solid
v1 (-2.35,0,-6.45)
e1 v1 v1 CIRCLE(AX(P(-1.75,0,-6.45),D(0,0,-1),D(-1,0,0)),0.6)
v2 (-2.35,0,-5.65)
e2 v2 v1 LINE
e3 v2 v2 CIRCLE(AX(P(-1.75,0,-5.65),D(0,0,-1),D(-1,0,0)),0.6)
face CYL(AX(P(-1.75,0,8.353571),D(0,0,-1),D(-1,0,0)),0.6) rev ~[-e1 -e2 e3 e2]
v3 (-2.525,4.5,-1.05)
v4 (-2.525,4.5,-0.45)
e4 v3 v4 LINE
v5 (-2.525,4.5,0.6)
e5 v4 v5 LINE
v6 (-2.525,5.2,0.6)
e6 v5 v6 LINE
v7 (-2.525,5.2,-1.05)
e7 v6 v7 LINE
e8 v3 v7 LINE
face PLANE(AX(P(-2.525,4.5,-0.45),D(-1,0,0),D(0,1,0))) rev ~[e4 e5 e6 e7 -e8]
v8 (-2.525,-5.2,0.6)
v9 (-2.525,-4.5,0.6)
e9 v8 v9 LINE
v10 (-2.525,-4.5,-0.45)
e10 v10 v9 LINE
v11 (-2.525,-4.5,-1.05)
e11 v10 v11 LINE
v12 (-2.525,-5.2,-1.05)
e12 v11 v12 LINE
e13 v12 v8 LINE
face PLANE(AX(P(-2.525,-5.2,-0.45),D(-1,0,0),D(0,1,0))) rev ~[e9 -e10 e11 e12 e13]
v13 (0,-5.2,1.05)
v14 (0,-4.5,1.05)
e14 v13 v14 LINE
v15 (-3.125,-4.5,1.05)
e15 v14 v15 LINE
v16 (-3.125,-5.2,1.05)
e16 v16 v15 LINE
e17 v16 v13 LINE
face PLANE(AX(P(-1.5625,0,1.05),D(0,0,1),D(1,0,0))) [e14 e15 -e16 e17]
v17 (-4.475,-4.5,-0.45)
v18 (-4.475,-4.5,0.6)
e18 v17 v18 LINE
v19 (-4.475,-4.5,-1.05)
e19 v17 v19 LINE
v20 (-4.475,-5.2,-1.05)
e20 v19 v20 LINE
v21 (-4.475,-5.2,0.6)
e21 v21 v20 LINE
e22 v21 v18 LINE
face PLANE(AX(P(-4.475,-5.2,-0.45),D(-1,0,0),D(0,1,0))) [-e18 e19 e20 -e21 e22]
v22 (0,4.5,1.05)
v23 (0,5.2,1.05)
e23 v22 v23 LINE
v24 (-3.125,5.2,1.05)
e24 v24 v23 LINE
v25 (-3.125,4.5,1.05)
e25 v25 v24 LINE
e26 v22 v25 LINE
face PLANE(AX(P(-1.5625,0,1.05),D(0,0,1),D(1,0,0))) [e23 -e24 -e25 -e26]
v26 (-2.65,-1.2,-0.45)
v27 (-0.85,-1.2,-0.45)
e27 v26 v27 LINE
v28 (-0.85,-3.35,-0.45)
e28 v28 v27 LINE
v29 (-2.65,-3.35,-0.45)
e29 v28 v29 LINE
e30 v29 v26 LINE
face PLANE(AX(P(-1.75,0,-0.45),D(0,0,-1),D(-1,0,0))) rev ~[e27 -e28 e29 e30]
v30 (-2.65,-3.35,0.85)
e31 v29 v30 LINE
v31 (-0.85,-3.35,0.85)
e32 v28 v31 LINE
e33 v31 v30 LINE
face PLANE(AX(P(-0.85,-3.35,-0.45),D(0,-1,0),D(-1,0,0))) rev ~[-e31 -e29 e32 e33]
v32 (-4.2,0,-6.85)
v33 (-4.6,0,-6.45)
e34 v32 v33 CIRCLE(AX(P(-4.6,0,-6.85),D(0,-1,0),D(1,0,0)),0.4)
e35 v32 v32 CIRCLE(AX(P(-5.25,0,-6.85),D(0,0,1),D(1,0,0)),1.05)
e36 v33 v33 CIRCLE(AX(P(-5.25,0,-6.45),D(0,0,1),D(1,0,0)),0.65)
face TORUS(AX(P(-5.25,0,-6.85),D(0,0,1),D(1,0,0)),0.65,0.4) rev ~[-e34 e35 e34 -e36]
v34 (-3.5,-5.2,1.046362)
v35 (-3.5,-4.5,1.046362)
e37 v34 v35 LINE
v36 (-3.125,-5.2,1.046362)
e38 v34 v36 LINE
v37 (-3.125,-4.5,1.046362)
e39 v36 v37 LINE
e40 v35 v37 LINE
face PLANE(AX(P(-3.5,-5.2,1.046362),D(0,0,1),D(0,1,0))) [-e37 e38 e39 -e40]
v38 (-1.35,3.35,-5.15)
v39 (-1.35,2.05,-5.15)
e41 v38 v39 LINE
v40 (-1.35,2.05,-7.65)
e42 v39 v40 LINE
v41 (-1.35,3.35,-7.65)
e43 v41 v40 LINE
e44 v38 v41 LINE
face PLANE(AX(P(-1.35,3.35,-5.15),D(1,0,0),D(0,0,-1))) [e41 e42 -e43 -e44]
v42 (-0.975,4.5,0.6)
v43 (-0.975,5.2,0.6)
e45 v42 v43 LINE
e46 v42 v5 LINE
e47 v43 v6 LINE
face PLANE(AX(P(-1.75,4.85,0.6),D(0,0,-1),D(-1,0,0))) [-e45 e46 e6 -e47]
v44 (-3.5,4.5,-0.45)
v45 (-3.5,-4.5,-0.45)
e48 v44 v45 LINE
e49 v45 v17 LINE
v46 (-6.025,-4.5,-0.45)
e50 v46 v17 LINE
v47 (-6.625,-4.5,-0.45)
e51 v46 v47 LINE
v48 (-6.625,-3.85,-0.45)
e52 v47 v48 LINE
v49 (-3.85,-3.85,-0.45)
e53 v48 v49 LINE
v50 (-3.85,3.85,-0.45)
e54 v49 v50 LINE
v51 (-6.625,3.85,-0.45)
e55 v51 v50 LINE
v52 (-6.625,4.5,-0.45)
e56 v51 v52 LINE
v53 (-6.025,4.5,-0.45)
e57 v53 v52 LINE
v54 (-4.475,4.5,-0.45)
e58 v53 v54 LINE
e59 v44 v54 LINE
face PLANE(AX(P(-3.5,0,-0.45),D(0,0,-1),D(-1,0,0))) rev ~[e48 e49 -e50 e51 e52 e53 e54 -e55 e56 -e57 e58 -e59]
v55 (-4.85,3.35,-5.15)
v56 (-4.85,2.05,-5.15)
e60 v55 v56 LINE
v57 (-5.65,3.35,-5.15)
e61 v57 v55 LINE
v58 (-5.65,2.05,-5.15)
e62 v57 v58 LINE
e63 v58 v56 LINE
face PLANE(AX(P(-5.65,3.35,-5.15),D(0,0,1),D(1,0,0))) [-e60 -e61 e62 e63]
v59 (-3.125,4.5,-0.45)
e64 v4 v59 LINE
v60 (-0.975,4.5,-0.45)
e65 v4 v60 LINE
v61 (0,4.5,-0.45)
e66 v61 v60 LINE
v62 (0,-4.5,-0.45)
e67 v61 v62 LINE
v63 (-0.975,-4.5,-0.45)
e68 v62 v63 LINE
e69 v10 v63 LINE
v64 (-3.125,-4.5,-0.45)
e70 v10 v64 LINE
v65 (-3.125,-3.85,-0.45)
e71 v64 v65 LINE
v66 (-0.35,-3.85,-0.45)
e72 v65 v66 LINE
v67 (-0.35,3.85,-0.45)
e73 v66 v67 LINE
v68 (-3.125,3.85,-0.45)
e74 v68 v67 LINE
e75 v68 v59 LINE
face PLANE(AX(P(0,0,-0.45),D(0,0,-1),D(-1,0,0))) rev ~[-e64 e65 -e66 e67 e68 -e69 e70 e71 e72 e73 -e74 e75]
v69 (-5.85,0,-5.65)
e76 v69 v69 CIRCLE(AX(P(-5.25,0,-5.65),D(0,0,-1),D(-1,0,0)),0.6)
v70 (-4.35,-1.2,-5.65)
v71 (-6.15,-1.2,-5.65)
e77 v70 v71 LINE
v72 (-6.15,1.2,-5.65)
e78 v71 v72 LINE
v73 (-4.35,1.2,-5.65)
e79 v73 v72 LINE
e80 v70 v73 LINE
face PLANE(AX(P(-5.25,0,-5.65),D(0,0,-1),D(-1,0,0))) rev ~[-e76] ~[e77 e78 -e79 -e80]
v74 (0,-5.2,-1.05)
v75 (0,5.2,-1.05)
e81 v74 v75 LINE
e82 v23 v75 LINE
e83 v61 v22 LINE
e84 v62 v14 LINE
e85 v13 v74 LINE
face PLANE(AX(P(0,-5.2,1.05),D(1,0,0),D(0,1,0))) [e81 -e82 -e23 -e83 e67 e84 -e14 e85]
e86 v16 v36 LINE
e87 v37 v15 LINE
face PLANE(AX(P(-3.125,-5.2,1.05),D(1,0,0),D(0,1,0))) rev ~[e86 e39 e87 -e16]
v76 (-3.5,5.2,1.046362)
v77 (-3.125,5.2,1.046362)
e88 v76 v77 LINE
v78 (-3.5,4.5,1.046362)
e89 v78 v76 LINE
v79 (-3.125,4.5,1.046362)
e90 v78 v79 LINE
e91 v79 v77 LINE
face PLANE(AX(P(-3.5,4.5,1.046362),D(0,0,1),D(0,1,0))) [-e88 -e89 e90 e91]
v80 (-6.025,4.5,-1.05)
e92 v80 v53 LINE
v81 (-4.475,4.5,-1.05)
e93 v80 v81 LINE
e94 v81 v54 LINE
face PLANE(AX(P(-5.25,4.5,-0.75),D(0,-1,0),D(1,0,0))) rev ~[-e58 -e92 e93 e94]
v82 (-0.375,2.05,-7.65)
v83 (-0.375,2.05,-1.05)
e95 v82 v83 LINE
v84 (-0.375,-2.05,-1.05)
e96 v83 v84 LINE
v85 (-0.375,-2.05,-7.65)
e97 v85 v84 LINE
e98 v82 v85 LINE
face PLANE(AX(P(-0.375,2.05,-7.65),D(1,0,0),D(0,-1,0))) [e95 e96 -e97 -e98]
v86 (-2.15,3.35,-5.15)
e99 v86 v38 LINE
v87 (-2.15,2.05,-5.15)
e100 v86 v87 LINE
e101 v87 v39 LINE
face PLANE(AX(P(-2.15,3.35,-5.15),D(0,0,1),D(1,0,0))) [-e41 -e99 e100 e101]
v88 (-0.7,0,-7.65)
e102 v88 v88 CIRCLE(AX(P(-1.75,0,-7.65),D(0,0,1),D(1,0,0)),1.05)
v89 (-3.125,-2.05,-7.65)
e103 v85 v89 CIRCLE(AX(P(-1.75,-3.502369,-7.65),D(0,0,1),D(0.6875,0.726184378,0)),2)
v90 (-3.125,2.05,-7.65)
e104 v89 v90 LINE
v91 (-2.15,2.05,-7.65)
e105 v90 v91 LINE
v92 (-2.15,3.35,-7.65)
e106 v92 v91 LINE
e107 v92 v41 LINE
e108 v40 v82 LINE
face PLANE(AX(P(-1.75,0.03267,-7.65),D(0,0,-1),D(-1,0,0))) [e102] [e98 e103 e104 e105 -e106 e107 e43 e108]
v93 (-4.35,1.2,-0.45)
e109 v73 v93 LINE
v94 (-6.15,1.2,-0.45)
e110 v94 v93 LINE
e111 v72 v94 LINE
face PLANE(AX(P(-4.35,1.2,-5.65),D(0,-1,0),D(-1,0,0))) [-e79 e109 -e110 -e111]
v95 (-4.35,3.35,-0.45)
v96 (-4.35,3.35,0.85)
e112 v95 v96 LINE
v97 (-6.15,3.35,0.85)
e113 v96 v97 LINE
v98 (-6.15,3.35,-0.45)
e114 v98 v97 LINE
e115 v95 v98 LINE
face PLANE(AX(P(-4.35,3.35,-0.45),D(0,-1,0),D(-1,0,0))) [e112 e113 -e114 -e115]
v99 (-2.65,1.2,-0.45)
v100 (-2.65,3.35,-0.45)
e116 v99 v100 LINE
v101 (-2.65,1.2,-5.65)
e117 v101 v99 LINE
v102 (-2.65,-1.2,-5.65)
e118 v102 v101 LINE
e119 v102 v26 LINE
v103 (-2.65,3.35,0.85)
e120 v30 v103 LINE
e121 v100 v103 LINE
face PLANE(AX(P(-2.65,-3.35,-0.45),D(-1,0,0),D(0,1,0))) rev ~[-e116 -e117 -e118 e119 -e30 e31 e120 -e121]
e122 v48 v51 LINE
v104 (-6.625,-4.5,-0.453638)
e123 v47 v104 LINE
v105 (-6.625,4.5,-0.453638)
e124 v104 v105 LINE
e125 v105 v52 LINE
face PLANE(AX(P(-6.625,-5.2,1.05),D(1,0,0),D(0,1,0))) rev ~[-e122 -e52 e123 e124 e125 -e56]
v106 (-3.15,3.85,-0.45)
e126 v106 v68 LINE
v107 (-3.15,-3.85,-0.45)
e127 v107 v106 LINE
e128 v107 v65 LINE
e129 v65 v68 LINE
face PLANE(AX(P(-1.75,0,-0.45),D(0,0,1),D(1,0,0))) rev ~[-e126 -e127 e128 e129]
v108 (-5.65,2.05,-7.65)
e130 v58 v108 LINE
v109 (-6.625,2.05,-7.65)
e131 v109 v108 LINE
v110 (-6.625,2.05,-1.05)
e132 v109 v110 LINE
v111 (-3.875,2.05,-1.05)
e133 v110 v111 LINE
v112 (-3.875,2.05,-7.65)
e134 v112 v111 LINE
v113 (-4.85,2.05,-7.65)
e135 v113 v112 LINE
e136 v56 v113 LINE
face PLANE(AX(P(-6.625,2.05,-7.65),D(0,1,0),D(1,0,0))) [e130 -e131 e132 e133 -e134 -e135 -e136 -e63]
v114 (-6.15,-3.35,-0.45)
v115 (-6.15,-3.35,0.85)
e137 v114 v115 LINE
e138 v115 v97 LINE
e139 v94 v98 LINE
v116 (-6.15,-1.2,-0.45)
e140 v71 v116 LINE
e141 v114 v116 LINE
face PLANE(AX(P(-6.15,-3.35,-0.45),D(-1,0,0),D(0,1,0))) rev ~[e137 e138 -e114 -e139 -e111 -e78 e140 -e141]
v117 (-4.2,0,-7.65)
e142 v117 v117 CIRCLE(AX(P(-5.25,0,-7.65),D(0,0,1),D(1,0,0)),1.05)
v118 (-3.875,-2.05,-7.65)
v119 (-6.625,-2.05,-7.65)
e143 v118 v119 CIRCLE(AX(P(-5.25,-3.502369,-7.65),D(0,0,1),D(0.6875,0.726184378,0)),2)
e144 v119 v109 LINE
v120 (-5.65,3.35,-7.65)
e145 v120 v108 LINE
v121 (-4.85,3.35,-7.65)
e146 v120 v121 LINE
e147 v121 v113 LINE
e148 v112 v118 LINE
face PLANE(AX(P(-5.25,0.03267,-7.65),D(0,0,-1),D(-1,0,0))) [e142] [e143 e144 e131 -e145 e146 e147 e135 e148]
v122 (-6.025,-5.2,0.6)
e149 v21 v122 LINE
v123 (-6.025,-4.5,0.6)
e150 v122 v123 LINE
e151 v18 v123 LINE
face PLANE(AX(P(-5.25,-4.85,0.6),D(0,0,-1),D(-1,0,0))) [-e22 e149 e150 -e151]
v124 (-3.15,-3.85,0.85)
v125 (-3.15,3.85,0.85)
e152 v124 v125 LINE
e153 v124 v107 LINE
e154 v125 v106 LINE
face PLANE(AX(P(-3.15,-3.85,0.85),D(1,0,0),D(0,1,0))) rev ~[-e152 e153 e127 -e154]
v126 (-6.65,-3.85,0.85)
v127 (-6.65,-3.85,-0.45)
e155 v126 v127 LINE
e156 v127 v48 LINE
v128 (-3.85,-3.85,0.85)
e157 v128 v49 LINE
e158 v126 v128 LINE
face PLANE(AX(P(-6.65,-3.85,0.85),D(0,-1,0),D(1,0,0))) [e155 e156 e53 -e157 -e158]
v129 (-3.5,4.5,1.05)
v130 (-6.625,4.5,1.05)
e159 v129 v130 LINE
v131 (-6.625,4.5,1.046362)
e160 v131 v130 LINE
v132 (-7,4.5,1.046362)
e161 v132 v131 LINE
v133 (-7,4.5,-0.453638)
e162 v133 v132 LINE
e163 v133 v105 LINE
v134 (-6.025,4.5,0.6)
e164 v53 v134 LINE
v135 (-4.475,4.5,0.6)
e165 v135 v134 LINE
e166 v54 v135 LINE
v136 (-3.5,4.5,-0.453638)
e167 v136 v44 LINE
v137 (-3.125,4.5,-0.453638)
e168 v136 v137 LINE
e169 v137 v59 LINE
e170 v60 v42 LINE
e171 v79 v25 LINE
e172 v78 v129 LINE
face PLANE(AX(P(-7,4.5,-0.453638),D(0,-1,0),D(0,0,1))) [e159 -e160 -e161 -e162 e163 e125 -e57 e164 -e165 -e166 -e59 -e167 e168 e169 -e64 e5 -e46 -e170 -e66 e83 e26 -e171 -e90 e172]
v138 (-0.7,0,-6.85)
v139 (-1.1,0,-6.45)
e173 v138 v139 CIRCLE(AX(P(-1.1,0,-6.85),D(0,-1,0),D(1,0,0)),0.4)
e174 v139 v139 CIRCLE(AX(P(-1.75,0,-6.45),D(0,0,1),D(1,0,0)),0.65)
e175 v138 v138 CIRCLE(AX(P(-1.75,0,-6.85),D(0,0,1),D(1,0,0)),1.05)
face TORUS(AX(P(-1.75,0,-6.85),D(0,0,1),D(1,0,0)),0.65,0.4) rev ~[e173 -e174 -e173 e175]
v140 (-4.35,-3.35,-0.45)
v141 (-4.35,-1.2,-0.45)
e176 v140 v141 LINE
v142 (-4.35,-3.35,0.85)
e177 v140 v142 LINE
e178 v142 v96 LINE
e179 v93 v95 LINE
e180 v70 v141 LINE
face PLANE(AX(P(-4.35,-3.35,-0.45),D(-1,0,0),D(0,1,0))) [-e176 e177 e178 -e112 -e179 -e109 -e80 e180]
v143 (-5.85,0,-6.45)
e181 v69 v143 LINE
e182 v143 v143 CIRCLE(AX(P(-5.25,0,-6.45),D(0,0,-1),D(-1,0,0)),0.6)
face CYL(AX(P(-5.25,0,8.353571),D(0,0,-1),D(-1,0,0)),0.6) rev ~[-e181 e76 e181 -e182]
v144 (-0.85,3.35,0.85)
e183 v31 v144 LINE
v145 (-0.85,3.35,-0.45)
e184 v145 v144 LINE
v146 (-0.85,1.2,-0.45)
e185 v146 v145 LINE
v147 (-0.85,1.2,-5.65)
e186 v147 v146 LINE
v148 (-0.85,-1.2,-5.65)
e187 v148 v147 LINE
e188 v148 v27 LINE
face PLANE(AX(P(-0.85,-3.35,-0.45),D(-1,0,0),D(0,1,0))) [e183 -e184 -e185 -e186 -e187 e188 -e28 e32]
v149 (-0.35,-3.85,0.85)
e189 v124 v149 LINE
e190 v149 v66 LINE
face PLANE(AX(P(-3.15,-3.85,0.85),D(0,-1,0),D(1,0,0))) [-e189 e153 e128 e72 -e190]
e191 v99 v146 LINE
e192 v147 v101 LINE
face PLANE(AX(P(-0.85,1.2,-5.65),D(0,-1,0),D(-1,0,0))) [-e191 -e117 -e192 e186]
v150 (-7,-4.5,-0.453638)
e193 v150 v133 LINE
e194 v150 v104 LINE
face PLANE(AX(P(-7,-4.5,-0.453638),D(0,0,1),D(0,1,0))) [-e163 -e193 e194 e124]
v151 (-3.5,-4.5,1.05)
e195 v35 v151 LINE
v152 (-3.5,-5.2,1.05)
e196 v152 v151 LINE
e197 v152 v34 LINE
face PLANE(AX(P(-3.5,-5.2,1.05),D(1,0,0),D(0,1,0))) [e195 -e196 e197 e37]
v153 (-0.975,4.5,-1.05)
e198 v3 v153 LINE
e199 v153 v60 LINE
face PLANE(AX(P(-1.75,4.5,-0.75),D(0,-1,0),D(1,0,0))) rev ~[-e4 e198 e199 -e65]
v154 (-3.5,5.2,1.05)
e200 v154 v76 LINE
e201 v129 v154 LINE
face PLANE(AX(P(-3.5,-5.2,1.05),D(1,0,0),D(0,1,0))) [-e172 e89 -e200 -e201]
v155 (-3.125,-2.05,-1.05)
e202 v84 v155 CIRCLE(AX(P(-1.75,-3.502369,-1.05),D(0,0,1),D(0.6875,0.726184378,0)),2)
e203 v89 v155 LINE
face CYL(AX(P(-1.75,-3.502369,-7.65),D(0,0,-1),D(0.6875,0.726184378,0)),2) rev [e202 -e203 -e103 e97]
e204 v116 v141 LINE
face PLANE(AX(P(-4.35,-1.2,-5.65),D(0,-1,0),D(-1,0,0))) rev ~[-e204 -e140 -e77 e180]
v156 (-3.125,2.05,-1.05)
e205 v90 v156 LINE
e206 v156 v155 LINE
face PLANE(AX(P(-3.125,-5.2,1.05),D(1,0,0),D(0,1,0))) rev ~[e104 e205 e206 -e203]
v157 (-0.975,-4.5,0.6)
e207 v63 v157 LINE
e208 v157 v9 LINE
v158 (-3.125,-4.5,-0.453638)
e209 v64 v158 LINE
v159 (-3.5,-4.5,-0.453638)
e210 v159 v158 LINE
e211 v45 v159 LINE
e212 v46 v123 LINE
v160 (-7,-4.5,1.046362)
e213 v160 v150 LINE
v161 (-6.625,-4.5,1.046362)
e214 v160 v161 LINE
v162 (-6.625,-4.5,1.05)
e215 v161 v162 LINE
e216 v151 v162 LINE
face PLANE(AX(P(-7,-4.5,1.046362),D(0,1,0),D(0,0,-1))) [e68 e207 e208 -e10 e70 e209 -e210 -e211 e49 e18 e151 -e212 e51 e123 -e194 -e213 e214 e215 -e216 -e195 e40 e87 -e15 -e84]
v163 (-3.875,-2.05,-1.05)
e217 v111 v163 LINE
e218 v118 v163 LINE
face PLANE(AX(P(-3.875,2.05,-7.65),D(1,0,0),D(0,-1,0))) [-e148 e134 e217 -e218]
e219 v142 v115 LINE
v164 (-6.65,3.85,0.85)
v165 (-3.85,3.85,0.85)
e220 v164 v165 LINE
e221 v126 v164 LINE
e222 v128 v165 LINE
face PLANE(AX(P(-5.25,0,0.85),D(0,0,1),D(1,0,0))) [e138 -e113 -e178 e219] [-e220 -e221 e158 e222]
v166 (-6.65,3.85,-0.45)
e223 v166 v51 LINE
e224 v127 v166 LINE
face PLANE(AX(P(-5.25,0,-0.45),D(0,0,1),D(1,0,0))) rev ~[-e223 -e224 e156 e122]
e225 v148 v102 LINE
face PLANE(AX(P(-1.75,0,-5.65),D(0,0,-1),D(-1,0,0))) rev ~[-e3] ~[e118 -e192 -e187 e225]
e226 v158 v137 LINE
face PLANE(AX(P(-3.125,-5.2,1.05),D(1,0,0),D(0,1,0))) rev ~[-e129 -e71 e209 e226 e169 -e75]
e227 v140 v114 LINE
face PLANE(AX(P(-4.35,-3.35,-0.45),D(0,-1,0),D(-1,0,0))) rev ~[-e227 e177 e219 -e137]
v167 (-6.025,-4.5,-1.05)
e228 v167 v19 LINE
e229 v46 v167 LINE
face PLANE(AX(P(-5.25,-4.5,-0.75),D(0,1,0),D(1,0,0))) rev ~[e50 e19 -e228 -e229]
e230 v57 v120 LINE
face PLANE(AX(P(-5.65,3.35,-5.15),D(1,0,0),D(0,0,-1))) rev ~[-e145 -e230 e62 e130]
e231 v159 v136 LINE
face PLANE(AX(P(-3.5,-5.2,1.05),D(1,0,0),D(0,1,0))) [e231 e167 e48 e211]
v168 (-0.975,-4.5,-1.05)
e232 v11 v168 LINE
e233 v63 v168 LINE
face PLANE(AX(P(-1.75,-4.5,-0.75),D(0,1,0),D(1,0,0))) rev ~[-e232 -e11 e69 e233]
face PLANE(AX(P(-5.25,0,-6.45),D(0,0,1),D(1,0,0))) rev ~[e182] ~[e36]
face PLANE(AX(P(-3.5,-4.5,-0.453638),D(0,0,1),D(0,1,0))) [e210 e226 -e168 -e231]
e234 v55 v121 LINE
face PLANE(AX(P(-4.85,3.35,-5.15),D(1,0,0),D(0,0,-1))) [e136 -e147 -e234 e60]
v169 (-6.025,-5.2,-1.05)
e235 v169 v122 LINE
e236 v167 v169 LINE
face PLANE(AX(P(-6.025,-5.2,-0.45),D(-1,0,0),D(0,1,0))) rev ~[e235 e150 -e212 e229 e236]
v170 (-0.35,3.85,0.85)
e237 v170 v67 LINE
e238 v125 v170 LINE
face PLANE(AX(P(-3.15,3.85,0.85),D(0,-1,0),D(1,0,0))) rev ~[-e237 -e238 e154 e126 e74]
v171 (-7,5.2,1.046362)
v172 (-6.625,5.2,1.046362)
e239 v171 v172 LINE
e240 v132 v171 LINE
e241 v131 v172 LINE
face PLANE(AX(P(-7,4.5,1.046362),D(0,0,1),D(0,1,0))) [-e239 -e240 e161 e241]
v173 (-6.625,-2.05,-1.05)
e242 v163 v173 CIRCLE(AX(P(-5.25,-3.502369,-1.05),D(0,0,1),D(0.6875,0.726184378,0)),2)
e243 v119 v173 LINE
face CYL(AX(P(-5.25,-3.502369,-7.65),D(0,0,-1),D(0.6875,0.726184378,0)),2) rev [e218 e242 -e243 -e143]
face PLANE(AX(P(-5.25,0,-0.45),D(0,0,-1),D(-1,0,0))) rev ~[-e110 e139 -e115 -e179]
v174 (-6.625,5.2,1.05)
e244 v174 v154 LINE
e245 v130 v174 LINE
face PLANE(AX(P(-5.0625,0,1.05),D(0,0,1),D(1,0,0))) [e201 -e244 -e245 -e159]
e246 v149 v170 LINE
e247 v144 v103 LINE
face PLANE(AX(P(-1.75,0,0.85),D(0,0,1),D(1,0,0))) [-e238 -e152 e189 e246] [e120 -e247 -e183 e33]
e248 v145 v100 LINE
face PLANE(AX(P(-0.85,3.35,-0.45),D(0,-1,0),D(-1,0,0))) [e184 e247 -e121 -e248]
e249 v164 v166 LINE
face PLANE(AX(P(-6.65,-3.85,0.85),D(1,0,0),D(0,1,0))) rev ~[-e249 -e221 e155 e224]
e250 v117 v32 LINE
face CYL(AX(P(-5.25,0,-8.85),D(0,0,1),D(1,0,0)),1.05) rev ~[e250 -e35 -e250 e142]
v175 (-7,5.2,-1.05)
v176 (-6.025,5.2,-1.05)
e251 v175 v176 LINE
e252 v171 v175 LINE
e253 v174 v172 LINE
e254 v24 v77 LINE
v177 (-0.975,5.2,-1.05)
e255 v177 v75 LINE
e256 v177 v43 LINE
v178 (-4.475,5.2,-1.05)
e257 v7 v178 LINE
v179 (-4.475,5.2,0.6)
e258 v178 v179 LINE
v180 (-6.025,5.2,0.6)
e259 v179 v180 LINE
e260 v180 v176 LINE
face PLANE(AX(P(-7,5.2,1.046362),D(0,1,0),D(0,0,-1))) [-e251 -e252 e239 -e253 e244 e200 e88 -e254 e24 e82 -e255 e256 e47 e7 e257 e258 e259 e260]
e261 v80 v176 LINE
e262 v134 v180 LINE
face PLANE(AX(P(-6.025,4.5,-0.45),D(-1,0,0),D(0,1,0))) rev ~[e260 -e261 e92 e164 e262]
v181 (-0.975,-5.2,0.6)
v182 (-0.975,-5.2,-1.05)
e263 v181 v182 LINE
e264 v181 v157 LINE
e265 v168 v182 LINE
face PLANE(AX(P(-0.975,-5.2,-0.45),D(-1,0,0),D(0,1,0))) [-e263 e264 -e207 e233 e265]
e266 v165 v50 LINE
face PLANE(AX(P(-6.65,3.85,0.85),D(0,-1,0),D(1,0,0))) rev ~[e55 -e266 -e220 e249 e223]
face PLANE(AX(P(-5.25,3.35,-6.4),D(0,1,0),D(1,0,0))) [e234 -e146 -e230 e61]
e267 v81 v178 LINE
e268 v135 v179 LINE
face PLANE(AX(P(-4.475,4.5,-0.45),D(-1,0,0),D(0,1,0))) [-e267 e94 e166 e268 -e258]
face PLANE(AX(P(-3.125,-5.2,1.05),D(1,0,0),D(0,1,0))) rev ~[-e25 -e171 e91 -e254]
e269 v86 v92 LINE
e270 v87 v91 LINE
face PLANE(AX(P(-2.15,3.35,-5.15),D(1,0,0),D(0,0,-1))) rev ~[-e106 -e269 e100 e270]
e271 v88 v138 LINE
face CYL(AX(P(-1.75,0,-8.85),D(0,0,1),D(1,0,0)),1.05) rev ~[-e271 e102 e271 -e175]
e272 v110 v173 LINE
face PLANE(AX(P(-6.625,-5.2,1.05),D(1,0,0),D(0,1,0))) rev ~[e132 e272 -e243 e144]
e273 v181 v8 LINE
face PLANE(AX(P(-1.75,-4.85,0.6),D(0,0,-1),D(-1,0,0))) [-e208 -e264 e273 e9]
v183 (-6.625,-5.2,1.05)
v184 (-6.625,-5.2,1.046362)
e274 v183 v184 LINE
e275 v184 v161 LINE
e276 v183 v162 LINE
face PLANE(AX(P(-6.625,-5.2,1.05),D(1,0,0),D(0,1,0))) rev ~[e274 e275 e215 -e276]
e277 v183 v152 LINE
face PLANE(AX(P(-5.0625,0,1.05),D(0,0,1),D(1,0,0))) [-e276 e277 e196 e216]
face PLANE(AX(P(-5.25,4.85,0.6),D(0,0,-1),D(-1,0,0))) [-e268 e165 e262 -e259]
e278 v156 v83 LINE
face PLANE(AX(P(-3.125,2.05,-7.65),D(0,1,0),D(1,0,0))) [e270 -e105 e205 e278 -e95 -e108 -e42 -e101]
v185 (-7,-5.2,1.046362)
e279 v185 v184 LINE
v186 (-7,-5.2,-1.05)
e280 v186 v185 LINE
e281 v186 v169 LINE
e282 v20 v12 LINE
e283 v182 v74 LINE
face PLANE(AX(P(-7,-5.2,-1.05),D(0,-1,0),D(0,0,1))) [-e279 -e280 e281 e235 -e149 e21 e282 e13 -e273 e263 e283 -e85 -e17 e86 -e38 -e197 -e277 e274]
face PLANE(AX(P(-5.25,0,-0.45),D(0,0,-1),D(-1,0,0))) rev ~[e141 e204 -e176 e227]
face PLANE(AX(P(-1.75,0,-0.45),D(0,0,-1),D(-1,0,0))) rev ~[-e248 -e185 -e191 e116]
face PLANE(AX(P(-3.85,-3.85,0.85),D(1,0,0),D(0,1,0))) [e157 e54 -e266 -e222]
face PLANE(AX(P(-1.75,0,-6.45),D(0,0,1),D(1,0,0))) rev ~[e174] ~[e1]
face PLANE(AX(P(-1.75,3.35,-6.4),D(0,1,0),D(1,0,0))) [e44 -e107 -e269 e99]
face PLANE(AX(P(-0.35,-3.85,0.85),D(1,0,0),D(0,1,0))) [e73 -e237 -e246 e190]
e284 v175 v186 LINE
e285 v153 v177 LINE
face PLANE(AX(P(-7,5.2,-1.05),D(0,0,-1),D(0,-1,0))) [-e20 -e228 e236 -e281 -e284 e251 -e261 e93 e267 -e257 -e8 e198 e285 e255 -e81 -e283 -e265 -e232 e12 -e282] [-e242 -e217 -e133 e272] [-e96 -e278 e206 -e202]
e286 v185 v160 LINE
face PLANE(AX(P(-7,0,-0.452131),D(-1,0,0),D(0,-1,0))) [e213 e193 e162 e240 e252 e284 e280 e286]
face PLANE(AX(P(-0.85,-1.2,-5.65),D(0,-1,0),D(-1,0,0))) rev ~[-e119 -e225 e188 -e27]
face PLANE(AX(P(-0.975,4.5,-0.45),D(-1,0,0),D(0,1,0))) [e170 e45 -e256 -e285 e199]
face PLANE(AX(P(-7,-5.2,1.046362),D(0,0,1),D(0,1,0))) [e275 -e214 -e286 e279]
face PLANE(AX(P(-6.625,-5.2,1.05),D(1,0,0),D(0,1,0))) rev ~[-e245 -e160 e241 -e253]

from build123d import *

# Parameters (mm, degrees)
SKETCH_1_W                     = 3.125
SKETCH_1_H                     = 10.4
EXTRUDE_1_DEPTH                = 2.1
CUT_EXTRUDE_1_REACH            = 8.249
SKETCH_2_W                     = 6.25
SKETCH_2_H                     = 9
SKETCH_3_W                     = 1.55
SKETCH_3_H                     = 0.7
CUT_EXTRUDE_2_DEPTH            = 1.05
SKETCH_5_W                     = 1.55
SKETCH_5_H                     = 0.7
CUT_EXTRUDE_4_DEPTH            = 1.05
EXTRUDE_3_DEPTH                = 6.6
SKETCH_9_W                     = 2.8
SKETCH_9_H                     = 7.7
EXTRUDE_4_DEPTH                = 1.3
CUT_EXTRUDE_6_REACH            = 11.424
SKETCH_11_W                    = 1.8
SKETCH_11_H                    = 6.7
CUT_EXTRUDE_9_REACH            = 11.047
SKETCH_14_W                    = 1.8
SKETCH_14_H                    = 2.4
CUT_EXTRUDE_11_REACH           = 14.749
SKETCH_16_W                    = 1.55
SKETCH_16_H                    = 0.6
CUT_EXTRUDE_12_REACH           = 14.749
SKETCH_17_W                    = 1.55
SKETCH_17_H                    = 0.6
EXTRUDE_6_DEPTH                = 0.375
SKETCH_21_W                    = 0.8
SKETCH_21_H                    = 2.5
EXTRUDE_8_DEPTH                = 1.3
HOLE_WIZARD_2_1_2_1_2_D        = 2.1
HOLE_WIZARD_2_1_2_1_2_DEPTH    = 1.2
HOLE_WIZARD_1_2_1_2_1_D        = 1.2
FILLET_1_R                     = 0.4
PATTERN_LINEAR_1_COUNT         = 2
PATTERN_LINEAR_1_PITCH         = 3.5
FILLET_1_OF_PATTERN_LINEAR_1_R = 0.4


with BuildPart() as part:
    # Эскиз1 → Бобышка-Вытянуть1 (new body)
    with BuildSketch(Plane.XY.offset(1.05)):
        with Locations((-1.5625, 0)):
            Rectangle(SKETCH_1_W, SKETCH_1_H)
    extrude_1 = extrude(amount=-EXTRUDE_1_DEPTH)

    # Эскиз2 → Вырез-Вытянуть1 (cut, up to next)
    with BuildSketch(Plane(origin=(0, 0, -0.45), x_dir=(-1, 0, 0), z_dir=(0, 0, -1)), mode=Mode.PRIVATE) as cut_extrude_1_sk1:
        Rectangle(SKETCH_2_W, SKETCH_2_H)
    cut_extrude_1_tool1 = extrude(cut_extrude_1_sk1.sketch, amount=-CUT_EXTRUDE_1_REACH, mode=Mode.PRIVATE) & part.part
    cut_extrude_1 = cut_extrude_1_tool1.solids().sort_by_distance((0, 0, -0.45))[0]
    add(cut_extrude_1, mode=Mode.SUBTRACT)

    # Эскиз3 → Вырез-Вытянуть2 (cut)
    with BuildSketch(Plane(origin=(0, 0, -0.45), x_dir=(-1, 0, 0), z_dir=(0, 0, -1))):
        with Locations((1.75, 4.85)):
            Rectangle(SKETCH_3_W, SKETCH_3_H)
    cut_extrude_2 = extrude(amount=-CUT_EXTRUDE_2_DEPTH, mode=Mode.SUBTRACT)

    # Эскиз5 → Вырез-Вытянуть4 (cut)
    with BuildSketch(Plane(origin=(0, 0, -0.45), x_dir=(-1, 0, 0), z_dir=(0, 0, -1))):
        with Locations((1.75, -4.85)):
            Rectangle(SKETCH_5_W, SKETCH_5_H)
    cut_extrude_4 = extrude(amount=-CUT_EXTRUDE_4_DEPTH, mode=Mode.SUBTRACT)

    # Эскиз8 → Бобышка-Вытянуть3 (add)
    with BuildSketch(Plane(origin=(0, 0, -7.65), x_dir=(-1, 0, 0), z_dir=(0, 0, -1))):
        with BuildLine():
            Line((3.125, 2.05), (0.375, 2.05))
            Line((0.375, 2.05), (0.375, -2.05))
            ThreePointArc((0.375, -2.05), (1.75, -1.502368755), (3.125, -2.05))
            Line((3.125, -2.05), (3.125, 2.05))
        make_face()
    extrude_3 = extrude(amount=-EXTRUDE_3_DEPTH)

    # Эскиз9 → Бобышка-Вытянуть4 (add)
    with BuildSketch(Plane.XY.offset(0.85)):
        with Locations((-1.75, 0)):
            Rectangle(SKETCH_9_W, SKETCH_9_H)
    extrude_4 = extrude(amount=-EXTRUDE_4_DEPTH)

    # Эскиз11 → Вырез-Вытянуть6 (cut, up to next)
    with BuildSketch(Plane(origin=(0, 0, -0.45), x_dir=(-1, 0, 0), z_dir=(0, 0, -1)), mode=Mode.PRIVATE) as cut_extrude_6_sk1:
        with Locations((1.75, 0)):
            Rectangle(SKETCH_11_W, SKETCH_11_H)
    cut_extrude_6_tool1 = extrude(cut_extrude_6_sk1.sketch, amount=-CUT_EXTRUDE_6_REACH, mode=Mode.PRIVATE) & part.part
    cut_extrude_6 = cut_extrude_6_tool1.solids().sort_by_distance((-1.75, 0, -0.45))[0]
    add(cut_extrude_6, mode=Mode.SUBTRACT)

    # Эскиз14 → Вырез-Вытянуть9 (cut, up to next)
    with BuildSketch(Plane(origin=(0, 0, -5.65), x_dir=(-1, 0, 0), z_dir=(0, 0, -1)), mode=Mode.PRIVATE) as cut_extrude_9_sk1:
        with Locations((1.75, 0)):
            Rectangle(SKETCH_14_W, SKETCH_14_H)
    cut_extrude_9_tool1 = extrude(cut_extrude_9_sk1.sketch, amount=-CUT_EXTRUDE_9_REACH, mode=Mode.PRIVATE) & part.part
    cut_extrude_9 = cut_extrude_9_tool1.solids().sort_by_distance((-1.75, 0, -5.65))[0]
    add(cut_extrude_9, mode=Mode.SUBTRACT)

    # Эскиз16 → Вырез-Вытянуть11 (cut, up to next)
    with BuildSketch(Plane(origin=(0, -4.5, 0), x_dir=(1, 0, 0), z_dir=(0, 1, 0)), mode=Mode.PRIVATE) as cut_extrude_11_sk1:
        with Locations((-1.75, 0.75)):
            Rectangle(SKETCH_16_W, SKETCH_16_H)
    cut_extrude_11_tool1 = extrude(cut_extrude_11_sk1.sketch, amount=-CUT_EXTRUDE_11_REACH, mode=Mode.PRIVATE) & part.part
    cut_extrude_11 = cut_extrude_11_tool1.solids().sort_by_distance((-1.75, -4.5, -0.75))[0]
    add(cut_extrude_11, mode=Mode.SUBTRACT)

    # Эскиз17 → Вырез-Вытянуть12 (cut, up to next)
    with BuildSketch(Plane.XZ.offset(-4.5), mode=Mode.PRIVATE) as cut_extrude_12_sk1:
        with Locations((-1.75, -0.75)):
            Rectangle(SKETCH_17_W, SKETCH_17_H)
    cut_extrude_12_tool1 = extrude(cut_extrude_12_sk1.sketch, amount=-CUT_EXTRUDE_12_REACH, mode=Mode.PRIVATE) & part.part
    cut_extrude_12 = cut_extrude_12_tool1.solids().sort_by_distance((-1.75, 4.5, -0.75))[0]
    add(cut_extrude_12, mode=Mode.SUBTRACT)

    # Эскиз19 → Бобышка-Вытянуть6 (add)
    with BuildSketch(Plane(origin=(-3.5, 0, 0), x_dir=(0, -1, 0), z_dir=(-1, 0, 0))):
        Polygon((1.65, -1.05), (5.2, -1.05), (5.2, 1.046361901), (4.5, 1.046361901), (4.5, -0.453638099), (-4.5, -0.453638099), (-4.5, 1.046361901), (-5.2, 1.046361901), (-5.2, -1.05), align=None)
    extrude_6 = extrude(amount=-EXTRUDE_6_DEPTH)

    # Эскиз21 → Бобышка-Вытянуть8 (add)
    with BuildSketch(Plane(origin=(0, 3.35, 0), x_dir=(1, 0, 0), z_dir=(0, 1, 0))):
        with Locations((-1.75, 6.4)):
            Rectangle(SKETCH_21_W, SKETCH_21_H)
    extrude_8 = extrude(amount=-EXTRUDE_8_DEPTH)

    # Диаметр отверстия Ø2.1 (2.1)2
    with Locations(Plane(origin=(0, 0, -7.65), x_dir=(-1, 0, 0), z_dir=(0, 0, -1))):
        with Locations((1.75, 0)):
            hole_wizard_2_1_2_1_2 = Hole(HOLE_WIZARD_2_1_2_1_2_D / 2, depth=HOLE_WIZARD_2_1_2_1_2_DEPTH)

    # Диаметр отверстия Ø1.2 (1.2)1 (through all)
    with Locations(Plane.XY.offset(-5.65)):
        with Locations((-1.75, 0)):
            hole_wizard_1_2_1_2_1 = Hole(HOLE_WIZARD_1_2_1_2_1_D / 2)

    # Скругление1
    fillet_1_edges = [part.edges().sort_by_distance(p)[0] for p in [
        (-2.8, 0, -6.45),
    ]]
    fillet(fillet_1_edges, radius=FILLET_1_R)

    # Линейный массив1: Бобышка-Вытянуть1, Вырез-Вытянуть1, Вырез-Вытянуть2, Вырез-Вытянуть4, Бобышка-Вытянуть3, Бобышка-Вытянуть4, Вырез-Вытянуть6, Вырез-Вытянуть9, Вырез-Вытянуть11, Вырез-Вытянуть12, Бобышка-Вытянуть6, Бобышка-Вытянуть8, Диаметр отверстия Ø2.1 (2.1)2, Диаметр отверстия Ø1.2 (1.2)1 ×2
    with Locations(*[(-i * PATTERN_LINEAR_1_PITCH, 0, 0) for i in range(1, PATTERN_LINEAR_1_COUNT)]):
        add(extrude_1)
        add(cut_extrude_1, mode=Mode.SUBTRACT)
        add(cut_extrude_2, mode=Mode.SUBTRACT)
        add(cut_extrude_4, mode=Mode.SUBTRACT)
        add(extrude_3)
        add(extrude_4)
        add(cut_extrude_6, mode=Mode.SUBTRACT)
        add(cut_extrude_9, mode=Mode.SUBTRACT)
        add(cut_extrude_11, mode=Mode.SUBTRACT)
        add(cut_extrude_12, mode=Mode.SUBTRACT)
        add(extrude_6)
        add(extrude_8)
        add(hole_wizard_2_1_2_1_2, mode=Mode.SUBTRACT)
        add(hole_wizard_1_2_1_2_1, mode=Mode.SUBTRACT)

    # Скругление1 of Линейный массив1
    fillet_1_of_pattern_linear_1_edges = [part.edges().sort_by_distance(p)[0] for p in [
        (-6.3, 0, -6.45),
    ]]
    fillet(fillet_1_of_pattern_linear_1_edges, radius=FILLET_1_OF_PATTERN_LINEAR_1_R)


solid = part.part
